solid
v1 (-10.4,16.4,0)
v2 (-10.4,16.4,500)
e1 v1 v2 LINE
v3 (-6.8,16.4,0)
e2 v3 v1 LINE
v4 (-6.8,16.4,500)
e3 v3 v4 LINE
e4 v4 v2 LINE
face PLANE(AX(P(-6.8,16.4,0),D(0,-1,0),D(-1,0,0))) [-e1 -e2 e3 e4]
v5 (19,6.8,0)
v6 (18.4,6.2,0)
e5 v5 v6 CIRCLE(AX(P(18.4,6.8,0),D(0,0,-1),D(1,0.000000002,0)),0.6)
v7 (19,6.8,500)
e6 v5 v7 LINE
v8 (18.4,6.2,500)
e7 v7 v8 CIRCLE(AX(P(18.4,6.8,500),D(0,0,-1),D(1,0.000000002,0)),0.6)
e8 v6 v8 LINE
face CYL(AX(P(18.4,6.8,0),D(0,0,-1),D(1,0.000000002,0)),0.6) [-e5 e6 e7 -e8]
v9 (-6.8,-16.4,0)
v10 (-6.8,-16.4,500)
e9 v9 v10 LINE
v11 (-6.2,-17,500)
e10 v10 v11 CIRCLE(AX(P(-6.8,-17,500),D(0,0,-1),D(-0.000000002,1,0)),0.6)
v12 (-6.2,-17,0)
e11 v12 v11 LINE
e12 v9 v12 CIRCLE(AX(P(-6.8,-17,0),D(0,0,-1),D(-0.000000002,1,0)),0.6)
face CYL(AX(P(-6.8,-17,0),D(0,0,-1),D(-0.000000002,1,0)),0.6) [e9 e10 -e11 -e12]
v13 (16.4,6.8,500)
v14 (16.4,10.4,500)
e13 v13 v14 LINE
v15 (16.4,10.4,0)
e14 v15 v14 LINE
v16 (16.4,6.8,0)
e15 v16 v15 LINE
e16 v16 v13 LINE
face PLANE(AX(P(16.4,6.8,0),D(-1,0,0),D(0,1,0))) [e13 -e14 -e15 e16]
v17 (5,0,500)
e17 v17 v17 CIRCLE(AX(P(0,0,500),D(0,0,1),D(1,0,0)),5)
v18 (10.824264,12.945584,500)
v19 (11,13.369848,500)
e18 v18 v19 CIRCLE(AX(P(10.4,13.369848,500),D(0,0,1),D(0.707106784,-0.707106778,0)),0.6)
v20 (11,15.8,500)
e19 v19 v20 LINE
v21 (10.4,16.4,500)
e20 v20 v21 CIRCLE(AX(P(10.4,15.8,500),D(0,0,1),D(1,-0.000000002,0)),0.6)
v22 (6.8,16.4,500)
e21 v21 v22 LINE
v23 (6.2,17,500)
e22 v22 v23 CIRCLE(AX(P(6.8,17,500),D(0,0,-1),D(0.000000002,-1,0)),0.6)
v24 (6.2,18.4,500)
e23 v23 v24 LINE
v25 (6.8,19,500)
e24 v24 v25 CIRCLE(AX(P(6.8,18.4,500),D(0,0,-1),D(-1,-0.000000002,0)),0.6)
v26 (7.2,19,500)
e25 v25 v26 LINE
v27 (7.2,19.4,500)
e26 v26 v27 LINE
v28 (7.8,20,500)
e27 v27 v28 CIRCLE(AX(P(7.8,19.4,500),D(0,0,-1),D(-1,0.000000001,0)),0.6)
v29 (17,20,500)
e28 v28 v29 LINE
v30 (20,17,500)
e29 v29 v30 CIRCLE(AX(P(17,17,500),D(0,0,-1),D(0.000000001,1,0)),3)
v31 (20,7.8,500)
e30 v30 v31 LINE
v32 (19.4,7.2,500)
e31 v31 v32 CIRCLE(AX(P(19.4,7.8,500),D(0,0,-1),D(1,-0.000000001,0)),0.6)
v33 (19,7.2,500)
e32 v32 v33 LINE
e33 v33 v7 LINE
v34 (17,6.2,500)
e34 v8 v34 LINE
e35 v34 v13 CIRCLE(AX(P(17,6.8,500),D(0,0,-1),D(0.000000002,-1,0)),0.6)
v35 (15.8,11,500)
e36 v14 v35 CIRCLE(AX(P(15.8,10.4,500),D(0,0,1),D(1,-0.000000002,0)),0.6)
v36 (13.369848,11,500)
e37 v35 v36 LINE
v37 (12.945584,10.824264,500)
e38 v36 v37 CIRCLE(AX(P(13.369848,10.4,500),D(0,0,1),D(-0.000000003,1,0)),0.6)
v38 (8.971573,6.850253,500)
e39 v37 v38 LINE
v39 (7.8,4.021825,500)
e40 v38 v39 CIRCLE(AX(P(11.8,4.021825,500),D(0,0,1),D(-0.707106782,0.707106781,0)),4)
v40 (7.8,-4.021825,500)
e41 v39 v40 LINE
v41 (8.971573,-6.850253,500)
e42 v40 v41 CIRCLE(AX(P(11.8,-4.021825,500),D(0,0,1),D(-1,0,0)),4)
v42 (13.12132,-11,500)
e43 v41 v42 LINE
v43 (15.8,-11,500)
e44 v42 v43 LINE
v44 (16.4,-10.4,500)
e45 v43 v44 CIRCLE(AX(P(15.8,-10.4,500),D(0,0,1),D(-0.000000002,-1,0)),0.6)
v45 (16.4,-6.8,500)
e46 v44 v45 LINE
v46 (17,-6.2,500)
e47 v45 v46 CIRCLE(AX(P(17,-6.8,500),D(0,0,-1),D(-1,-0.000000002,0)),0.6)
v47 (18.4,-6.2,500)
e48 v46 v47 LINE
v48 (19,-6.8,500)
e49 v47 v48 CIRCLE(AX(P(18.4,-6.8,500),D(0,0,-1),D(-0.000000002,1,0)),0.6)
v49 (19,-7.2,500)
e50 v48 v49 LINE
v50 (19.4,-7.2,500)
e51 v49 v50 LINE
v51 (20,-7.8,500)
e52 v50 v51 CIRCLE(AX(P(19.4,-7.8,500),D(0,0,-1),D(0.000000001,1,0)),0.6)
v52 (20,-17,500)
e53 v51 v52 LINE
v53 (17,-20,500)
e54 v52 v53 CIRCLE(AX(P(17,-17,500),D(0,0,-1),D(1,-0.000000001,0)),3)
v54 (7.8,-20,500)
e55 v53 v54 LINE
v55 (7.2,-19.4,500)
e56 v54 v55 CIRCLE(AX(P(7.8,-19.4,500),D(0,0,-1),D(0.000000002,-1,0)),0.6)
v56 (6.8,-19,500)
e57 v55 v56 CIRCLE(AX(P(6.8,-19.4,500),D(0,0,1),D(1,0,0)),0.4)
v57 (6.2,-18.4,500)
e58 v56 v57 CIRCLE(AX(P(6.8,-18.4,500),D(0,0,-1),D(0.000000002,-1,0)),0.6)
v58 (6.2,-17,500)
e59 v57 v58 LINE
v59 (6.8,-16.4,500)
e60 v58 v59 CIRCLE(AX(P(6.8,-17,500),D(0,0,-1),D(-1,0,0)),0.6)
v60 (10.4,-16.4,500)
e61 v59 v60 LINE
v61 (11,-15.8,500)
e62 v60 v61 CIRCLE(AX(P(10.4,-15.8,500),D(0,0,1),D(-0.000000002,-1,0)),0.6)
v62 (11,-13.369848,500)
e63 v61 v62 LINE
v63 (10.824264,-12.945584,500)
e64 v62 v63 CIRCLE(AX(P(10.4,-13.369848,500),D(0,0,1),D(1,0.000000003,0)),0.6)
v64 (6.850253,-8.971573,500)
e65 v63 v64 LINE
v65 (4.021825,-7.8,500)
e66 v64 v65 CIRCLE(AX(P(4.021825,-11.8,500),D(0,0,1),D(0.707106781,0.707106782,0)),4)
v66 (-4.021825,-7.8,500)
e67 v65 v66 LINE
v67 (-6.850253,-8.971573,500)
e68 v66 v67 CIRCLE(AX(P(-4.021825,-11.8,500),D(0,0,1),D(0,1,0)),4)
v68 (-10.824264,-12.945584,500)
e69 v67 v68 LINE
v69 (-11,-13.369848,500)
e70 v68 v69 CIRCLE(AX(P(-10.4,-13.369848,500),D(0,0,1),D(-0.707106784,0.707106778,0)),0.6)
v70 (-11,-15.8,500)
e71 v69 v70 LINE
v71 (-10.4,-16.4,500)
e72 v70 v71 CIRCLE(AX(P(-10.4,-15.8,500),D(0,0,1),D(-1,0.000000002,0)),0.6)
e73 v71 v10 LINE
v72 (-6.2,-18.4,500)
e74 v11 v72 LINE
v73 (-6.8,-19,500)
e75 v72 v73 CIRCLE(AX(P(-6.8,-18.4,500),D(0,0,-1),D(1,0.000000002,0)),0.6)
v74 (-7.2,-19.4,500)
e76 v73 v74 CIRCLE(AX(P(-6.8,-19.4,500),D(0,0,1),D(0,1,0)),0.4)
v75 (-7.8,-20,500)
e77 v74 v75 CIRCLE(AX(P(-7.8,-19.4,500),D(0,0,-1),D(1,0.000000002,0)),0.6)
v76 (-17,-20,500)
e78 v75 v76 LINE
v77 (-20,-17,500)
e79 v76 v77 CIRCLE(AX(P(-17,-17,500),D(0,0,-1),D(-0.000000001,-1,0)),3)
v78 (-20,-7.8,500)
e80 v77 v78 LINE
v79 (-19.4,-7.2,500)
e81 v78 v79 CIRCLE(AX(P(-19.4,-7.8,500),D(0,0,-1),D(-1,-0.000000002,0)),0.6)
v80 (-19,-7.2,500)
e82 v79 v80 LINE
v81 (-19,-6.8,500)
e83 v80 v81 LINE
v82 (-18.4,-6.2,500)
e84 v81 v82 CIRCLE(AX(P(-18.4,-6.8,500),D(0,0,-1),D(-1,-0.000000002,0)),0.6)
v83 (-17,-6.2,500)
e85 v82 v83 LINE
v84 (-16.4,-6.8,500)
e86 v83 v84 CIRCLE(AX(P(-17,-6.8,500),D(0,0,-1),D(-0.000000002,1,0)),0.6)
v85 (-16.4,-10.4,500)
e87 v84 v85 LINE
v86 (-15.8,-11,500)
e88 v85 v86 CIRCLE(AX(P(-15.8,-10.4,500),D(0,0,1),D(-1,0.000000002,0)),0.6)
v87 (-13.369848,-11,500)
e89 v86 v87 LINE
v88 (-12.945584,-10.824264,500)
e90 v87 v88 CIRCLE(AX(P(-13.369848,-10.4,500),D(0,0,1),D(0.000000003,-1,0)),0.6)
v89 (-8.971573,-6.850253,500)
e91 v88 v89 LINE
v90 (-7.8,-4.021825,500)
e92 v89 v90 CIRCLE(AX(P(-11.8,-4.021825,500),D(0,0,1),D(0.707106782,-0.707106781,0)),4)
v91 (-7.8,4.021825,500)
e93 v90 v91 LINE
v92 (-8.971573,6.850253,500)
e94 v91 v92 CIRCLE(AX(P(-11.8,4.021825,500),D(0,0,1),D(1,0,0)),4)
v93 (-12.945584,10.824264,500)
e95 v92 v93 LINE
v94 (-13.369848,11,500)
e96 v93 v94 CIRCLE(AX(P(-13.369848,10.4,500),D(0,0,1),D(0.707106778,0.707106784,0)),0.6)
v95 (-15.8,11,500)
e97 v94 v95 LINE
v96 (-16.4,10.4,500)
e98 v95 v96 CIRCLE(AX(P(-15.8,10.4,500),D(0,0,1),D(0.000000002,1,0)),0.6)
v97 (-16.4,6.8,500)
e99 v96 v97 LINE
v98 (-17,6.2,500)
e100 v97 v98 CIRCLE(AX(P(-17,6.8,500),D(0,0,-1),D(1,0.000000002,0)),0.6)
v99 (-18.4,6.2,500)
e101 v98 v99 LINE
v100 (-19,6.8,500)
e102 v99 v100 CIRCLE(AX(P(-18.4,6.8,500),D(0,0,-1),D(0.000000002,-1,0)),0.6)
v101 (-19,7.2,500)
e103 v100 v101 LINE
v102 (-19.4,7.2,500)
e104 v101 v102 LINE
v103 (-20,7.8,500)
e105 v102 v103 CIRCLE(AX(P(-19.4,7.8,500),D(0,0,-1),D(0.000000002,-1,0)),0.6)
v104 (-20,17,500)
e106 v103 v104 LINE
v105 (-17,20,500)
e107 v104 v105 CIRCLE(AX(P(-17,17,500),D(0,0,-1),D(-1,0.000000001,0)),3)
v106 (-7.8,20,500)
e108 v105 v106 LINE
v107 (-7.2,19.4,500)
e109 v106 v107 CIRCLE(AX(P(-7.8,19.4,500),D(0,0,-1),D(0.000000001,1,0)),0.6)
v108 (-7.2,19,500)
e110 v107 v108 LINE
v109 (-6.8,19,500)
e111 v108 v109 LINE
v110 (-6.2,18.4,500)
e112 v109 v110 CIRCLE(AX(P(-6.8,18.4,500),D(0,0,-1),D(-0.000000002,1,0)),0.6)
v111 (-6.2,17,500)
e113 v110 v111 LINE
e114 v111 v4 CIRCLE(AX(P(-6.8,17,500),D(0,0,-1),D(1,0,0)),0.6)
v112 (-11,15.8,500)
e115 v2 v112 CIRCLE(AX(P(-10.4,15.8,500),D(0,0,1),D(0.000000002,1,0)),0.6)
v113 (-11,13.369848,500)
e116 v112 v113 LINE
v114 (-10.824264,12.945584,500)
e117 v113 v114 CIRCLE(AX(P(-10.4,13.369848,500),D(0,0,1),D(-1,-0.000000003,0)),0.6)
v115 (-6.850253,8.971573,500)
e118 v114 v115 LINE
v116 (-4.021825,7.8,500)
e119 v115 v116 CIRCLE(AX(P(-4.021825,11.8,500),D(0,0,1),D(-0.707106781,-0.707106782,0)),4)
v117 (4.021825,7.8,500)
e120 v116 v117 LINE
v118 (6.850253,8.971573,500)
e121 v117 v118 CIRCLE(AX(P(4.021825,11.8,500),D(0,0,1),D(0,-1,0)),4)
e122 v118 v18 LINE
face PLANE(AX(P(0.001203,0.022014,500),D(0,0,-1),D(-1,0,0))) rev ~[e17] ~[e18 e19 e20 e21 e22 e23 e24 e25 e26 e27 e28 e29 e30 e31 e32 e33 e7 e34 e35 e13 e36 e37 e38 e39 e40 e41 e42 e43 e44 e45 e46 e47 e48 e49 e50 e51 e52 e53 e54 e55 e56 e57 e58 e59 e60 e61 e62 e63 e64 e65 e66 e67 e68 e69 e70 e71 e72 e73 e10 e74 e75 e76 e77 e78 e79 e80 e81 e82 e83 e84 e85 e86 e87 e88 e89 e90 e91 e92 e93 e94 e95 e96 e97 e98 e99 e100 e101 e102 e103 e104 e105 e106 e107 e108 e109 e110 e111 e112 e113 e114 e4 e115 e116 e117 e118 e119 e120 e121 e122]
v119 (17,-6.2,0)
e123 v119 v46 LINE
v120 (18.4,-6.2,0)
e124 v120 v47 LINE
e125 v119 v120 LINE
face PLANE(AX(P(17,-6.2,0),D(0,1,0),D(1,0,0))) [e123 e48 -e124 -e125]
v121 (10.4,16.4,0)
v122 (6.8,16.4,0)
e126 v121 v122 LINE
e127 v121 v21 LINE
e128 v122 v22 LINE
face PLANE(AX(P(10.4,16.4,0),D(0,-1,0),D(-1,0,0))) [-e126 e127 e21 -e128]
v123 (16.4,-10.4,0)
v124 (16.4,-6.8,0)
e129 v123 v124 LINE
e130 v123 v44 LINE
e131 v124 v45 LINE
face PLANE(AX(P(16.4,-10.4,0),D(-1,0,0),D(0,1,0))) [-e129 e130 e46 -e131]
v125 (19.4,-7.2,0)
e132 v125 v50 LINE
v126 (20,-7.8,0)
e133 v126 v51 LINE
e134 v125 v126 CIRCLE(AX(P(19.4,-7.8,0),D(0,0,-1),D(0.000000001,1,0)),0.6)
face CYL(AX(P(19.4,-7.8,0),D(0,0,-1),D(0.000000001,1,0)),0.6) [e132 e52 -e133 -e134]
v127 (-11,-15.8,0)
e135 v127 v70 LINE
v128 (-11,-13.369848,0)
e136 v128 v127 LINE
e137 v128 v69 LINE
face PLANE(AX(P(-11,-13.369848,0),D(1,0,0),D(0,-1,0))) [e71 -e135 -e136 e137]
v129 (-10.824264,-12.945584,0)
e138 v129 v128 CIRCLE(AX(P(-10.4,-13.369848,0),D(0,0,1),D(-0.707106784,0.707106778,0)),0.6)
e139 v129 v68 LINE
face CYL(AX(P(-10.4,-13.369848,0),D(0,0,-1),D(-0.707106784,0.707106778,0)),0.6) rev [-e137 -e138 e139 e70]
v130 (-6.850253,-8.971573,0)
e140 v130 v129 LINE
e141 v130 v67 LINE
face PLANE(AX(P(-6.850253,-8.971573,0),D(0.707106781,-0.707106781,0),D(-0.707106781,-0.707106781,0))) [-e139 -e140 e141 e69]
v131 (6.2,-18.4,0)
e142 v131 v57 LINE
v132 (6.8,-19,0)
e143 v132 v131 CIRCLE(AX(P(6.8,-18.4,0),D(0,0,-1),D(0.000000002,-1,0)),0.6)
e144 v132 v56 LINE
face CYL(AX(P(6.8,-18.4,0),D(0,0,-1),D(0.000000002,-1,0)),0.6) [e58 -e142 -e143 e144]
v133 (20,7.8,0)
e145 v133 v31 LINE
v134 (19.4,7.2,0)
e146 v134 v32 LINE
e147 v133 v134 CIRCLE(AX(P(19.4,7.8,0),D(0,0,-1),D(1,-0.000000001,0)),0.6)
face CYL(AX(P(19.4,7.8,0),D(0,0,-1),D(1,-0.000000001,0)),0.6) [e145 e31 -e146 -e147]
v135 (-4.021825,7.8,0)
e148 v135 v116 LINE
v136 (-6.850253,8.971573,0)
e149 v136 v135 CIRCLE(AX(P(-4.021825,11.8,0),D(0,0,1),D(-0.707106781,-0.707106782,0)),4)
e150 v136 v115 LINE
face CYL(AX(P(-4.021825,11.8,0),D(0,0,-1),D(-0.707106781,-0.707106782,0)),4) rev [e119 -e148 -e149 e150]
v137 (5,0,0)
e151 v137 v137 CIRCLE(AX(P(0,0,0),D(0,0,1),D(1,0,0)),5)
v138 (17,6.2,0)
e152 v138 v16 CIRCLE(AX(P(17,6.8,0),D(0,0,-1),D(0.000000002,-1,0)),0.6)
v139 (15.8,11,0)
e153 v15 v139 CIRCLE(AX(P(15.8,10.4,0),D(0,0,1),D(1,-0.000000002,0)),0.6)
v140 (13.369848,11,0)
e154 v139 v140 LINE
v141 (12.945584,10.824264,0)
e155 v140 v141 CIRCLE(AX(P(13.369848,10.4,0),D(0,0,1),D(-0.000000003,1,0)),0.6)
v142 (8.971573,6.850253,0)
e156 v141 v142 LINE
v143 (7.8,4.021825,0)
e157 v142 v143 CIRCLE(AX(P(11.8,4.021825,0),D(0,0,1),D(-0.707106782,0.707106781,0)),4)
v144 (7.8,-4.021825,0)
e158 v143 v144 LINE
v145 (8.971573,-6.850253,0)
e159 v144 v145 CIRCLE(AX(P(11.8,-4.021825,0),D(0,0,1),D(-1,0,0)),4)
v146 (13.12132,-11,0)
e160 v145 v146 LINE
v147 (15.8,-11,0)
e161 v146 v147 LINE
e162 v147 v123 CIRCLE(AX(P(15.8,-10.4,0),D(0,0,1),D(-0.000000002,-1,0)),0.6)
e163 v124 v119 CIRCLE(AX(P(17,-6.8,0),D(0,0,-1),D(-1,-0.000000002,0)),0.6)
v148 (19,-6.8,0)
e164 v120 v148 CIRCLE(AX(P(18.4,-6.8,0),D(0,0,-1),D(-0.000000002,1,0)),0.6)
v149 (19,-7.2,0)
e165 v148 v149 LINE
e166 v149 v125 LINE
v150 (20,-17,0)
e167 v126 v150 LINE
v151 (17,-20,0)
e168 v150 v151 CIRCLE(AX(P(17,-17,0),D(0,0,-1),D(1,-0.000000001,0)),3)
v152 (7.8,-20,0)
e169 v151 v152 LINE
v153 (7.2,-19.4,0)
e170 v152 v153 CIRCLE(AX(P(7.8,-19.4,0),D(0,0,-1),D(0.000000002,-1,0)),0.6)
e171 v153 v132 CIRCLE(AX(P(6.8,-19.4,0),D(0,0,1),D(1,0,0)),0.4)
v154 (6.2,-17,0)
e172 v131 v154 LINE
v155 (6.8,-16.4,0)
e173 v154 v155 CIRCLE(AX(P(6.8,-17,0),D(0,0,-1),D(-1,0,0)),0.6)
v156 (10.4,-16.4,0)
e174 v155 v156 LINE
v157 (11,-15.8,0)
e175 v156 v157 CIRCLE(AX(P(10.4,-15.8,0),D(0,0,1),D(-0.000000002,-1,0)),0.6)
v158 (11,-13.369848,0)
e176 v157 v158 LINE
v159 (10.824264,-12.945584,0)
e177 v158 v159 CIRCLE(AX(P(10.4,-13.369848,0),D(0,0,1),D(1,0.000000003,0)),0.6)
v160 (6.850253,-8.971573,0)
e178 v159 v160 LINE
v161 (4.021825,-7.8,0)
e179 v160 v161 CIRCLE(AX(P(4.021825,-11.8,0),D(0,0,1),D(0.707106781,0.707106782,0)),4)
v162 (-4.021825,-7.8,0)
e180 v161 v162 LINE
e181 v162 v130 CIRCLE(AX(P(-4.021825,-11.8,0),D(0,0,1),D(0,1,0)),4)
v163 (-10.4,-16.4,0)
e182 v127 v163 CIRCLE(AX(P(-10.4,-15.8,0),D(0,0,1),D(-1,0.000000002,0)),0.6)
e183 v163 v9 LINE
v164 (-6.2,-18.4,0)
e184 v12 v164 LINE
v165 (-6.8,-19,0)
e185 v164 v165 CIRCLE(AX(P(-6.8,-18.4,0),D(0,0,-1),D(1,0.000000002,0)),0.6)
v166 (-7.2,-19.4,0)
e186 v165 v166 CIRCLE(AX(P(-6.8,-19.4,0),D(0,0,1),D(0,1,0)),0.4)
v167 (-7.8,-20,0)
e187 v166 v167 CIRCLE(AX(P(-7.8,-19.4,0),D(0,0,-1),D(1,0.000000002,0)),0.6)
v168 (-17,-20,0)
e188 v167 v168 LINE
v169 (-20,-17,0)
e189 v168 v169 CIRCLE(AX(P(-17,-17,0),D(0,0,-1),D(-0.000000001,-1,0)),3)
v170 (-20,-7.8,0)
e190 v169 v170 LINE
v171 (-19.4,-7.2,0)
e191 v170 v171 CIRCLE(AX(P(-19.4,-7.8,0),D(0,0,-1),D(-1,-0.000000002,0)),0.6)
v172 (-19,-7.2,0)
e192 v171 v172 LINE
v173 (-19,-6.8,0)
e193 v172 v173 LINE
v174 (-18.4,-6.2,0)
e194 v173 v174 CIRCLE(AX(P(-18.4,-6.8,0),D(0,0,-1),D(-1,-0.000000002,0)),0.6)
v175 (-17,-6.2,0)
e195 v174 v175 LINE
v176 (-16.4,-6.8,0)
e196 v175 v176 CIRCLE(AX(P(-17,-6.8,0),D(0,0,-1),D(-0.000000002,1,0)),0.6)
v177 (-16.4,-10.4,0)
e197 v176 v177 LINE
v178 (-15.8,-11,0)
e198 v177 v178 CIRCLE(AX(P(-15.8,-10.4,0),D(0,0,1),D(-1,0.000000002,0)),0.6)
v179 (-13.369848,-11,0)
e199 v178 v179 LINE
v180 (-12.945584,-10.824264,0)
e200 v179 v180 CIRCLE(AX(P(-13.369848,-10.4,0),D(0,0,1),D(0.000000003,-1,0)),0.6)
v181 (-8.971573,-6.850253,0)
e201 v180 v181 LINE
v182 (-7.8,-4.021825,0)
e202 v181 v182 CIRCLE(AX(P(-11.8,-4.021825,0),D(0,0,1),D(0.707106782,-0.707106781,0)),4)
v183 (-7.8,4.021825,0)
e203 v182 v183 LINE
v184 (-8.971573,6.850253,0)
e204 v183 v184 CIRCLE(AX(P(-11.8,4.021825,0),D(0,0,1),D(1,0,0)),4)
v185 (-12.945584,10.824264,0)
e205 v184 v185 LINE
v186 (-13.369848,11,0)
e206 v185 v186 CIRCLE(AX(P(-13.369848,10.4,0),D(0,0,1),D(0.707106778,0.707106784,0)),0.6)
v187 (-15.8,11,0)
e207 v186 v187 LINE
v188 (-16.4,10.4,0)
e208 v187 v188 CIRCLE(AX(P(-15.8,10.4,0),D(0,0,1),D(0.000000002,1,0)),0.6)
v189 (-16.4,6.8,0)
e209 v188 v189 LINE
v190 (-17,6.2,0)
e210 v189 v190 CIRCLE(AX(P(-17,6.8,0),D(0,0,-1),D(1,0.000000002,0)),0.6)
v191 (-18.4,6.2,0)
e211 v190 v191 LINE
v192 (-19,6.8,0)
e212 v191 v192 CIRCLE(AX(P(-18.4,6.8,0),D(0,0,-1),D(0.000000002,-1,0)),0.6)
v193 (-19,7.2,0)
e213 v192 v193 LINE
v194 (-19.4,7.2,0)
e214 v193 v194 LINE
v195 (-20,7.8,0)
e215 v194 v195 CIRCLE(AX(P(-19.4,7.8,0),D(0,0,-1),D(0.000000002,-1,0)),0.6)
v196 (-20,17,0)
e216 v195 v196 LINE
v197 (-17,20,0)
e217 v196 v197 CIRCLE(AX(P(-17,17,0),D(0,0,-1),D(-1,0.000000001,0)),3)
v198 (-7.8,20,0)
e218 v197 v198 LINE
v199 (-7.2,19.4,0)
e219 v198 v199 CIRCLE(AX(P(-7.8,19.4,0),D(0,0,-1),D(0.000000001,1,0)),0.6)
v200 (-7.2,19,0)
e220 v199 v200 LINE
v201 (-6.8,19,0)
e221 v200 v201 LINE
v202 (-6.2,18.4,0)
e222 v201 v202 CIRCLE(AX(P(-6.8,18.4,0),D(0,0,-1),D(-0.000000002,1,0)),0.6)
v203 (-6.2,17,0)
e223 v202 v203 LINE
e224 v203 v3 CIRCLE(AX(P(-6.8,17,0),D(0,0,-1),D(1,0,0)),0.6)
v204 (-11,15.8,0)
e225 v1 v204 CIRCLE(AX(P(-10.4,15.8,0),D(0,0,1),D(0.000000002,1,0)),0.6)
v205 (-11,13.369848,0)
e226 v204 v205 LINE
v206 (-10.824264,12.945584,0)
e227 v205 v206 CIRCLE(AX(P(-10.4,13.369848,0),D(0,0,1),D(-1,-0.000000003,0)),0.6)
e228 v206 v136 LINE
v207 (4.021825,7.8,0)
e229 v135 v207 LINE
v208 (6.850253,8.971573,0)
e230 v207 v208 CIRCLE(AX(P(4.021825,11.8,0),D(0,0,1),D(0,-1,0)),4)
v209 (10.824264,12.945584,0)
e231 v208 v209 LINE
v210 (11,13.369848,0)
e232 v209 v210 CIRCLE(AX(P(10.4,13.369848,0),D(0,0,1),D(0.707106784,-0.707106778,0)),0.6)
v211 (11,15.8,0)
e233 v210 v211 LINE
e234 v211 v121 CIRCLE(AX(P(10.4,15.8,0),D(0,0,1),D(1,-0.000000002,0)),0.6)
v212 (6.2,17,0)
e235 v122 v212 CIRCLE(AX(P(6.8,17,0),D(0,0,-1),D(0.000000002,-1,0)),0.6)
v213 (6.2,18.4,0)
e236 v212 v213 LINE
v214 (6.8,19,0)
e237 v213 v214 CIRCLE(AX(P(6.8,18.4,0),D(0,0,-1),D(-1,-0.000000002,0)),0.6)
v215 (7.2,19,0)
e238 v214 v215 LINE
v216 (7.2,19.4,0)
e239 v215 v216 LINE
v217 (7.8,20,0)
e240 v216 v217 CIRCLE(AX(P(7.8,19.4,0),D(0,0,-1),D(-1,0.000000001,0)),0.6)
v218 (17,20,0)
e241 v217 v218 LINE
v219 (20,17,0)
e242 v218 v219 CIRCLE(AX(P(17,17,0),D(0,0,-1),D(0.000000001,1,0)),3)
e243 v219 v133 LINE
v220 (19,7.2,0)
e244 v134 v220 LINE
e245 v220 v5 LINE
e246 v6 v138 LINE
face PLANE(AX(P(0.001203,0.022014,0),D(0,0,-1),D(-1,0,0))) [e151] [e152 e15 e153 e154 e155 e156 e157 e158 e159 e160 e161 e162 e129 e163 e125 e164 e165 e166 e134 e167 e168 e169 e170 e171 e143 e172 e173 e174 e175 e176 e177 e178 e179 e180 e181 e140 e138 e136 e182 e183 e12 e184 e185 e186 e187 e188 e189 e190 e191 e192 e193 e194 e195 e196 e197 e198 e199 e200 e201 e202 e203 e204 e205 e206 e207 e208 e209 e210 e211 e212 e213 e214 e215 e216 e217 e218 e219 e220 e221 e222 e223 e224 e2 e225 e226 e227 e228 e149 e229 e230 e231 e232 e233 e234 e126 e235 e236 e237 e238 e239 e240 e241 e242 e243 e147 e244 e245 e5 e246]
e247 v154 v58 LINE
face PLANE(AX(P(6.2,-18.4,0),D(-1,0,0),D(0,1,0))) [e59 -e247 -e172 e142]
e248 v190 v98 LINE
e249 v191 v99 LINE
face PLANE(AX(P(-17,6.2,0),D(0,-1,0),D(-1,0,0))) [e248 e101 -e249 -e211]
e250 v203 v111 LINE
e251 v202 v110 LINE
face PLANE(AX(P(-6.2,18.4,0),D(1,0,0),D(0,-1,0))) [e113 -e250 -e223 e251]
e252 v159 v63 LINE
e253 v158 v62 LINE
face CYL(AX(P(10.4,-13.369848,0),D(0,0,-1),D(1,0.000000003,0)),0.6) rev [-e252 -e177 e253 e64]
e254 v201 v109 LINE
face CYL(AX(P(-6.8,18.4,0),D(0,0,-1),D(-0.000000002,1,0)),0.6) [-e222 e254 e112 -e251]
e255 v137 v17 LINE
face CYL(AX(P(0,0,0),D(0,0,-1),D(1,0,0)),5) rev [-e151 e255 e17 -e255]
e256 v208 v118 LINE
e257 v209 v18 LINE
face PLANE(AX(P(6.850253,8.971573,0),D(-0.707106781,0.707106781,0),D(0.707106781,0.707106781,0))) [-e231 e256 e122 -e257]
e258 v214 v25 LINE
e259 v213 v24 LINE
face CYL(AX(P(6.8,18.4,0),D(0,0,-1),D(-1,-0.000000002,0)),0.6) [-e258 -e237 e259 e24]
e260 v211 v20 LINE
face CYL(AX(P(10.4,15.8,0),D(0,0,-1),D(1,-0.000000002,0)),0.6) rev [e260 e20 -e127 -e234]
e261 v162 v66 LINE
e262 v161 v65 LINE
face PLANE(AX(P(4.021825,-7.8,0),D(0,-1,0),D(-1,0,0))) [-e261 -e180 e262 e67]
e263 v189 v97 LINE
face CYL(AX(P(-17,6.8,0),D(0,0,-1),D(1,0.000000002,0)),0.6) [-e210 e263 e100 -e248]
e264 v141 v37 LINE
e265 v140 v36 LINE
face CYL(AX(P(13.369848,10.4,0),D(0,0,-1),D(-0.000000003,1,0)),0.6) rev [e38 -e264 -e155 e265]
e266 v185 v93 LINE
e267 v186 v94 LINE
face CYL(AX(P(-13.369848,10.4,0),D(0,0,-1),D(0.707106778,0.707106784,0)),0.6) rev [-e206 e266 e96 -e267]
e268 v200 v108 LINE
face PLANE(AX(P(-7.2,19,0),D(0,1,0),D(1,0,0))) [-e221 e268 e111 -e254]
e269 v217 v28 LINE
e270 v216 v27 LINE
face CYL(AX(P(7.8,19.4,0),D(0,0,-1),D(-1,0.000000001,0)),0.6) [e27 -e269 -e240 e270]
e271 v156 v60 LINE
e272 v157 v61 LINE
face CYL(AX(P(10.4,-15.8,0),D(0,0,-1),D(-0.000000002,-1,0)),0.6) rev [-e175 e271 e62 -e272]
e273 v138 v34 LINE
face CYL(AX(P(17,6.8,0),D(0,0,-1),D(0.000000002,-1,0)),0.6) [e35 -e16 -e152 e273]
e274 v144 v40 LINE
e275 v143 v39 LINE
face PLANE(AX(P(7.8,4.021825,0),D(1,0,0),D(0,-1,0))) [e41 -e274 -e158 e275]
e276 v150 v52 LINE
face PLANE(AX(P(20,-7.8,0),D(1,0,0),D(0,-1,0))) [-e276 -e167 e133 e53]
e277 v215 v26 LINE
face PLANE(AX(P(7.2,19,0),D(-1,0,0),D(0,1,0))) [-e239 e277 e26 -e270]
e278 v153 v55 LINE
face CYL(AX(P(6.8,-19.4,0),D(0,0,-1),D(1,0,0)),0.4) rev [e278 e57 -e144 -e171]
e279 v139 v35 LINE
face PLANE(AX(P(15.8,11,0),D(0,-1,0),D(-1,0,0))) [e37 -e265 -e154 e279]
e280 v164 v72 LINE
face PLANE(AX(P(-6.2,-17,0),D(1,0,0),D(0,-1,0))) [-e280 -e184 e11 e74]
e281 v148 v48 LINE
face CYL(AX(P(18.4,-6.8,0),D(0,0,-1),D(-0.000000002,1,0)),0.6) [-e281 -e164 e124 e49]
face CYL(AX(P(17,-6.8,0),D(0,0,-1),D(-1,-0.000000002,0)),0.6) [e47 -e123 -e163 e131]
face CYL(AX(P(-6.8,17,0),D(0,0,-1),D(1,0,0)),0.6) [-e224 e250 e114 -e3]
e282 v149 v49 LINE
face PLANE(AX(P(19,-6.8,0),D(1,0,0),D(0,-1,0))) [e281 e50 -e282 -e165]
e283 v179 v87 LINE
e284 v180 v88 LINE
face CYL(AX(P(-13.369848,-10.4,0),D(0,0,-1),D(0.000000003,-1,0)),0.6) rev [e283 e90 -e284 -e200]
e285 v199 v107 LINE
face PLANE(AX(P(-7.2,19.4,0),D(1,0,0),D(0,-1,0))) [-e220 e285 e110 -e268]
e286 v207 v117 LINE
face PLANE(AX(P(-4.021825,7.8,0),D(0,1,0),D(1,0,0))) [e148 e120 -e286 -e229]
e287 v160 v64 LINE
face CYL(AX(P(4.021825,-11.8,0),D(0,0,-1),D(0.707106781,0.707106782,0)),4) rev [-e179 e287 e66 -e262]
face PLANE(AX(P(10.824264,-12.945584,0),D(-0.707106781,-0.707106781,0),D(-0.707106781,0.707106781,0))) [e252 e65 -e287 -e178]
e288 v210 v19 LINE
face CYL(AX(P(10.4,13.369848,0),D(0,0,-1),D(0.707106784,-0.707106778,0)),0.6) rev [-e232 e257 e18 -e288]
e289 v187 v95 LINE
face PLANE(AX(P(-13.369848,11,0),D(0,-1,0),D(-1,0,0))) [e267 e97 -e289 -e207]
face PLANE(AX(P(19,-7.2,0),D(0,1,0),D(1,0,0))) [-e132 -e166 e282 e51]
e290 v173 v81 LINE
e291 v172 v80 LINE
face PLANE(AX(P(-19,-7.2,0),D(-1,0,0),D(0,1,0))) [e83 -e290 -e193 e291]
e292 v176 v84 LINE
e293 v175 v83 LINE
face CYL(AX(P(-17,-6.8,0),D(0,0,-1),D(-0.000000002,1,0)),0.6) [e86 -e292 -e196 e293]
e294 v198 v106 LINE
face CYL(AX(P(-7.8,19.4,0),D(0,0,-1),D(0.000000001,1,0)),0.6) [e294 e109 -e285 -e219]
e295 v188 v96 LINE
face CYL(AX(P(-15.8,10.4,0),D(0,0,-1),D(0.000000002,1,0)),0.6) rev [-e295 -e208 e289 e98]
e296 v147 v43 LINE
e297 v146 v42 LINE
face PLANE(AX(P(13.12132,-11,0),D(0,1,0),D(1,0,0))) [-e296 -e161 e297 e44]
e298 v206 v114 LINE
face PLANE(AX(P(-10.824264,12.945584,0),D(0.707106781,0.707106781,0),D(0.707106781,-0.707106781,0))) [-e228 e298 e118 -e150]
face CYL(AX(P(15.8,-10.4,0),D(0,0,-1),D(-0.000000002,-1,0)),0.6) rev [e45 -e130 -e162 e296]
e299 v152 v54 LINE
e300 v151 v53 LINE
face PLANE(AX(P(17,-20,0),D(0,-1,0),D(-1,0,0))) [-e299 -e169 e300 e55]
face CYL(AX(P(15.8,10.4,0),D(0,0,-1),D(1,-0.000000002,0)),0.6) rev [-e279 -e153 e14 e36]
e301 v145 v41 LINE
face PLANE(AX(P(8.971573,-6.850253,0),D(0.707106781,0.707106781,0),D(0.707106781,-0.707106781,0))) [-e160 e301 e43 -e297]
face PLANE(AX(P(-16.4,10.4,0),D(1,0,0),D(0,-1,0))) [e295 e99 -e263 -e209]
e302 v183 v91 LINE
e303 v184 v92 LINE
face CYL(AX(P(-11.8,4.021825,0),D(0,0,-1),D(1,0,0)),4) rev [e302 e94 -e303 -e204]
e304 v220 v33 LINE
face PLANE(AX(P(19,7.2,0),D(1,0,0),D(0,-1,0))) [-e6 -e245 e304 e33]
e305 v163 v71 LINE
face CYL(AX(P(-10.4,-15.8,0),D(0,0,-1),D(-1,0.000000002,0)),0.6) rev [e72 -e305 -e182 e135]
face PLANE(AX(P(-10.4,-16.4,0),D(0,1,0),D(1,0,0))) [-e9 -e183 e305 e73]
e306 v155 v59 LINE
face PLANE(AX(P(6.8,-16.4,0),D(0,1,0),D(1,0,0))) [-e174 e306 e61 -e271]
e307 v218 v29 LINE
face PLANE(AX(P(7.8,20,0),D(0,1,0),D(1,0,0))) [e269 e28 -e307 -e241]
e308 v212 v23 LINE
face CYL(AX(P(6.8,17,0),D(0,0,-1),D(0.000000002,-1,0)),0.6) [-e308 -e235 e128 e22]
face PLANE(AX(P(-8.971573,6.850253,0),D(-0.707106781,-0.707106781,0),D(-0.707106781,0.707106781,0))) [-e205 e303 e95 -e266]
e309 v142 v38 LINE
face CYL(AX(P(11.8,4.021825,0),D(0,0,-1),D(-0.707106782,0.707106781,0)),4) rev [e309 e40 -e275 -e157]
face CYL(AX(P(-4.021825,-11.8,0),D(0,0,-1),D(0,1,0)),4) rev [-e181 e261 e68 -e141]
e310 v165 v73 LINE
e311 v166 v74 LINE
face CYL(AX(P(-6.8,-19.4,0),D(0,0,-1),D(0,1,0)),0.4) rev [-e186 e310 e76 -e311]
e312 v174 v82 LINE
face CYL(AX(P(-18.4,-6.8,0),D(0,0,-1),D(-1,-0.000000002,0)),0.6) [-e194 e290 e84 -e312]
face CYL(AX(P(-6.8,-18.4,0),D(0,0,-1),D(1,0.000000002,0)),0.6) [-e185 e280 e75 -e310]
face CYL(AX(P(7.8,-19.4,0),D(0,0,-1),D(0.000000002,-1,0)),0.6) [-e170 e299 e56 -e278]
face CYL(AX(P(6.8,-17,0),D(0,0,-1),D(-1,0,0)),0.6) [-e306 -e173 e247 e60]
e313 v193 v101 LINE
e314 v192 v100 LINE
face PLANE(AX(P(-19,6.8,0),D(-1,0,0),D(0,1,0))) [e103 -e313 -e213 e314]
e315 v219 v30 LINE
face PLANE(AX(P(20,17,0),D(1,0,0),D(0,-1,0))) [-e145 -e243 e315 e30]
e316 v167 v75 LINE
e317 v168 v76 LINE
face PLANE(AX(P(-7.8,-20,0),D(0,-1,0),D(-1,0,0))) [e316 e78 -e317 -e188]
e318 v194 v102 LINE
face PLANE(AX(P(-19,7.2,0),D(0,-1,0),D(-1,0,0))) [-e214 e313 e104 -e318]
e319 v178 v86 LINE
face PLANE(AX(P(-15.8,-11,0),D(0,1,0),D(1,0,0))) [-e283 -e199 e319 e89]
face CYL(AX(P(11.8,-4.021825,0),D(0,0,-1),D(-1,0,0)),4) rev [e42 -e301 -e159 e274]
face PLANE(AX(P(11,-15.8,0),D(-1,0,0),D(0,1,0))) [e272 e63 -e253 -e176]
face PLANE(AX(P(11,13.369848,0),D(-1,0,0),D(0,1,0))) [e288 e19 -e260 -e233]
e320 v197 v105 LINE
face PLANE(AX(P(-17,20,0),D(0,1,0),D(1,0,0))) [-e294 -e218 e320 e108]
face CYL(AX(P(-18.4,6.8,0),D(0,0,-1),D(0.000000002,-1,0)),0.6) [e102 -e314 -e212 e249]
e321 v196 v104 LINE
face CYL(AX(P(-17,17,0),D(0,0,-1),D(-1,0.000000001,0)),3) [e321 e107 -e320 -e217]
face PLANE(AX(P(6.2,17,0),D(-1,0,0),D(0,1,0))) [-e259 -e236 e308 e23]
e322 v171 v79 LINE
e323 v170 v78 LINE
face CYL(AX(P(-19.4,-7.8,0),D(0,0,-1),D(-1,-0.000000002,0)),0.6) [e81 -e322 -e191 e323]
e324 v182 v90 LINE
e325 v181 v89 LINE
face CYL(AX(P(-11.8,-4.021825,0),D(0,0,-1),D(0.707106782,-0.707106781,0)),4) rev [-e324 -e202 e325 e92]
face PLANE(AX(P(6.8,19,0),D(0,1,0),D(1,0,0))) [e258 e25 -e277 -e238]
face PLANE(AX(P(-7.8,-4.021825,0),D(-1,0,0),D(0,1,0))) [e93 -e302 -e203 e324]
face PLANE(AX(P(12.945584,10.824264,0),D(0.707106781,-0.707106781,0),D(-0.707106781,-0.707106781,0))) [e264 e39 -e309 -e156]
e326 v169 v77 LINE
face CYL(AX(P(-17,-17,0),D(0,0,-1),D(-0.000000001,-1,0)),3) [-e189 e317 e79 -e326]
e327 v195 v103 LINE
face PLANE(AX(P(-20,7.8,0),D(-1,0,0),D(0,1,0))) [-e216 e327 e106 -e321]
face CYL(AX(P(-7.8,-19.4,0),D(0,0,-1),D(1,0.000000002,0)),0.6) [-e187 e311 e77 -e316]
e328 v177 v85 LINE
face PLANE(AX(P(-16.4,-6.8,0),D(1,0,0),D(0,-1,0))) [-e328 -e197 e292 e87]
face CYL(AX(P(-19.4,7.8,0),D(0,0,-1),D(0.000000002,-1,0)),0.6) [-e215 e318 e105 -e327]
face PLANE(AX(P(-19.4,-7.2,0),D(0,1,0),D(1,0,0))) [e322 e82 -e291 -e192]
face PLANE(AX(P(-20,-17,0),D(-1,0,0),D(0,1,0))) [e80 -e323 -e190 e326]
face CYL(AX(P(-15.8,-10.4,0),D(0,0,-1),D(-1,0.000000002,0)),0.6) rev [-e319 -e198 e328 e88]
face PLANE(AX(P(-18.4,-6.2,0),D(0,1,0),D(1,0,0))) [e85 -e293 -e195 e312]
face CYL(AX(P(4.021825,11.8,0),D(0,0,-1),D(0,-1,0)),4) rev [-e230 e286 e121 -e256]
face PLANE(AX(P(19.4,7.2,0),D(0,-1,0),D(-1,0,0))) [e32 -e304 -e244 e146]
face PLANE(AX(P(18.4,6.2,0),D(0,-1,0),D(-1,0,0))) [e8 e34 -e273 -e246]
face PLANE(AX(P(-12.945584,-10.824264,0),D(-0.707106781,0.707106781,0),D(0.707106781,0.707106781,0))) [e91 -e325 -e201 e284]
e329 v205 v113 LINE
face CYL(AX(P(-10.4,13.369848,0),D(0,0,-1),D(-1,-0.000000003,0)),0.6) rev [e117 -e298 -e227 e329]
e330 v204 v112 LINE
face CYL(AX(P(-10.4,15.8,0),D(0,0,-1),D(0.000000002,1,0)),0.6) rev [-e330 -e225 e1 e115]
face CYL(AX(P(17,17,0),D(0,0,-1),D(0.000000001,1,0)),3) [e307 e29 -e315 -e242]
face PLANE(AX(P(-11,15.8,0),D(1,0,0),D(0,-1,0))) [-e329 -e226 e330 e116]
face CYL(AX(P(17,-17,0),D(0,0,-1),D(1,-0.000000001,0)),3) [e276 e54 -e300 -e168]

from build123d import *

# Parameters (mm, degrees)
MODEL_R             = 5
BOSS_EXTRUDE1_DEPTH = 500


with BuildPart() as part:
    # Model → Boss-Extrude1 (new body)
    with BuildSketch(Plane.XY):
        with BuildLine():
            Line((7.8, 0), (7.8, -4.021825407))
            ThreePointArc((7.8, -4.021825407), (8.10448187, -5.552559136), (8.971572875, -6.850252532))
            Line((8.971572875, -6.850252532), (13.121320343, -11))
            Line((13.121320343, -11), (15.8, -11))
            ThreePointArc((15.8, -11), (16.224264069, -10.824264069), (16.4, -10.4))
            Line((16.4, -10.4), (16.4, -6.8))
            ThreePointArc((16.4, -6.8), (16.575735931, -6.375735931), (17, -6.2))
            Line((17, -6.2), (18.4, -6.2))
            ThreePointArc((18.4, -6.2), (18.824264069, -6.375735931), (19, -6.8))
            Line((19, -6.8), (19, -7.2))
            Line((19, -7.2), (19.4, -7.2))
            ThreePointArc((19.4, -7.2), (19.824264068, -7.375735931), (20, -7.8))
            Line((20, -7.8), (20, -17))
            ThreePointArc((20, -17), (19.121320343, -19.121320343), (17, -20))
            Line((17, -20), (7.8, -20))
            ThreePointArc((7.8, -20), (7.375735931, -19.824264069), (7.2, -19.4))
            ThreePointArc((7.2, -19.4), (7.082842712, -19.117157287), (6.8, -19))
            ThreePointArc((6.8, -19), (6.375735931, -18.824264069), (6.2, -18.4))
            Line((6.2, -18.4), (6.2, -16.999999999))
            ThreePointArc((6.2, -16.999999999), (6.375735931, -16.575735931), (6.8, -16.4))
            Line((6.8, -16.4), (10.4, -16.4))
            ThreePointArc((10.4, -16.4), (10.824264069, -16.224264069), (11, -15.8))
            Line((11, -15.8), (11, -13.369848481))
            ThreePointArc((11, -13.369848481), (10.954327719, -13.140238421), (10.824264069, -12.945584412))
            Line((10.824264069, -12.945584412), (6.850252532, -8.971572875))
            ThreePointArc((6.850252532, -8.971572875), (5.552559136, -8.10448187), (4.021825407, -7.8))
            Line((4.021825407, -7.8), (0, -7.8))
            Line((0, -7.8), (-4.021825407, -7.8))
            ThreePointArc((-4.021825407, -7.8), (-5.552559136, -8.10448187), (-6.850252532, -8.971572875))
            Line((-6.850252532, -8.971572875), (-10.824264069, -12.945584412))
            ThreePointArc((-10.824264069, -12.945584412), (-10.954327719, -13.140238421), (-11, -13.369848481))
            Line((-11, -13.369848481), (-11, -15.8))
            ThreePointArc((-11, -15.8), (-10.824264069, -16.224264069), (-10.4, -16.4))
            Line((-10.4, -16.4), (-6.8, -16.4))
            ThreePointArc((-6.8, -16.4), (-6.375735931, -16.575735931), (-6.2, -16.999999999))
            Line((-6.2, -16.999999999), (-6.2, -18.4))
            ThreePointArc((-6.2, -18.4), (-6.375735931, -18.824264069), (-6.8, -19))
            ThreePointArc((-6.8, -19), (-7.082842712, -19.117157287), (-7.2, -19.4))
            ThreePointArc((-7.2, -19.4), (-7.375735931, -19.824264069), (-7.8, -20))
            Line((-7.8, -20), (-17, -20))
            ThreePointArc((-17, -20), (-19.121320343, -19.121320343), (-20, -17))
            Line((-20, -17), (-20, -7.8))
            ThreePointArc((-20, -7.8), (-19.824264069, -7.375735931), (-19.4, -7.2))
            Line((-19.4, -7.2), (-19, -7.2))
            Line((-19, -7.2), (-19, -6.8))
            ThreePointArc((-19, -6.8), (-18.824264069, -6.375735931), (-18.4, -6.2))
            Line((-18.4, -6.2), (-17, -6.2))
            ThreePointArc((-17, -6.2), (-16.575735931, -6.375735931), (-16.4, -6.8))
            Line((-16.4, -6.8), (-16.4, -10.4))
            ThreePointArc((-16.4, -10.4), (-16.224264069, -10.824264069), (-15.8, -11))
            Line((-15.8, -11), (-13.369848481, -11))
            ThreePointArc((-13.369848481, -11), (-13.140238421, -10.954327719), (-12.945584412, -10.824264069))
            Line((-12.945584412, -10.824264069), (-8.971572875, -6.850252532))
            ThreePointArc((-8.971572875, -6.850252532), (-8.10448187, -5.552559136), (-7.8, -4.021825407))
            Line((-7.8, -4.021825407), (-7.8, 0))
            Line((-7.8, 0), (-7.8, 4.021825407))
            ThreePointArc((-7.8, 4.021825407), (-8.10448187, 5.552559136), (-8.971572875, 6.850252532))
            Line((-8.971572875, 6.850252532), (-12.945584412, 10.824264069))
            ThreePointArc((-12.945584412, 10.824264069), (-13.140238421, 10.954327719), (-13.369848481, 11))
            Line((-13.369848481, 11), (-15.8, 11))
            ThreePointArc((-15.8, 11), (-16.224264069, 10.824264069), (-16.4, 10.4))
            Line((-16.4, 10.4), (-16.4, 6.8))
            ThreePointArc((-16.4, 6.8), (-16.575735931, 6.375735931), (-17, 6.2))
            Line((-17, 6.2), (-18.4, 6.2))
            ThreePointArc((-18.4, 6.2), (-18.824264069, 6.375735931), (-19, 6.8))
            Line((-19, 6.8), (-19, 7.2))
            Line((-19, 7.2), (-19.4, 7.2))
            ThreePointArc((-19.4, 7.2), (-19.824264069, 7.375735931), (-20, 7.8))
            Line((-20, 7.8), (-20, 17))
            ThreePointArc((-20, 17), (-19.121320343, 19.121320343), (-17, 20))
            Line((-17, 20), (-7.8, 20))
            ThreePointArc((-7.8, 20), (-7.375735931, 19.824264068), (-7.2, 19.4))
            Line((-7.2, 19.4), (-7.2, 19))
            Line((-7.2, 19), (-6.8, 19))
            ThreePointArc((-6.8, 19), (-6.375735931, 18.824264069), (-6.2, 18.4))
            Line((-6.2, 18.4), (-6.2, 16.999999999))
            ThreePointArc((-6.2, 16.999999999), (-6.375735931, 16.575735931), (-6.8, 16.4))
            Line((-6.8, 16.4), (-10.4, 16.4))
            ThreePointArc((-10.4, 16.4), (-10.824264069, 16.224264069), (-11, 15.8))
            Line((-11, 15.8), (-11, 13.369848481))
            ThreePointArc((-11, 13.369848481), (-10.954327719, 13.140238421), (-10.824264069, 12.945584412))
            Line((-10.824264069, 12.945584412), (-6.850252532, 8.971572875))
            ThreePointArc((-6.850252532, 8.971572875), (-5.552559136, 8.10448187), (-4.021825407, 7.8))
            Line((-4.021825407, 7.8), (0, 7.8))
            Line((0, 7.8), (4.021825407, 7.8))
            ThreePointArc((4.021825407, 7.8), (5.552559136, 8.10448187), (6.850252532, 8.971572875))
            Line((6.850252532, 8.971572875), (10.824264069, 12.945584412))
            ThreePointArc((10.824264069, 12.945584412), (10.954327719, 13.140238421), (11, 13.369848481))
            Line((11, 13.369848481), (11, 15.8))
            ThreePointArc((11, 15.8), (10.824264069, 16.224264069), (10.4, 16.4))
            Line((10.4, 16.4), (6.8, 16.4))
            ThreePointArc((6.8, 16.4), (6.375735931, 16.575735931), (6.2, 16.999999999))
            Line((6.2, 16.999999999), (6.2, 18.4))
            ThreePointArc((6.2, 18.4), (6.375735931, 18.824264069), (6.8, 19))
            Line((6.8, 19), (7.2, 19))
            Line((7.2, 19), (7.2, 19.4))
            ThreePointArc((7.2, 19.4), (7.375735931, 19.824264068), (7.8, 20))
            Line((7.8, 20), (17, 20))
            ThreePointArc((17, 20), (19.121320343, 19.121320343), (20, 17))
            Line((20, 17), (20, 7.8))
            ThreePointArc((20, 7.8), (19.824264068, 7.375735931), (19.4, 7.2))
            Line((19.4, 7.2), (19, 7.2))
            Line((19, 7.2), (19, 6.8))
            ThreePointArc((19, 6.8), (18.824264069, 6.375735931), (18.4, 6.2))
            Line((18.4, 6.2), (17, 6.2))
            ThreePointArc((17, 6.2), (16.575735931, 6.375735931), (16.4, 6.8))
            Line((16.4, 6.8), (16.4, 10.4))
            ThreePointArc((16.4, 10.4), (16.224264069, 10.824264069), (15.8, 11))
            Line((15.8, 11), (13.369848481, 11))
            ThreePointArc((13.369848481, 11), (13.140238421, 10.954327719), (12.945584412, 10.824264069))
            Line((12.945584412, 10.824264069), (8.971572875, 6.850252532))
            ThreePointArc((8.971572875, 6.850252532), (8.10448187, 5.552559136), (7.8, 4.021825407))
            Line((7.8, 4.021825407), (7.8, 0))
        make_face()
        Circle(MODEL_R, mode=Mode.SUBTRACT)
    extrude(amount=BOSS_EXTRUDE1_DEPTH)


solid = part.part
